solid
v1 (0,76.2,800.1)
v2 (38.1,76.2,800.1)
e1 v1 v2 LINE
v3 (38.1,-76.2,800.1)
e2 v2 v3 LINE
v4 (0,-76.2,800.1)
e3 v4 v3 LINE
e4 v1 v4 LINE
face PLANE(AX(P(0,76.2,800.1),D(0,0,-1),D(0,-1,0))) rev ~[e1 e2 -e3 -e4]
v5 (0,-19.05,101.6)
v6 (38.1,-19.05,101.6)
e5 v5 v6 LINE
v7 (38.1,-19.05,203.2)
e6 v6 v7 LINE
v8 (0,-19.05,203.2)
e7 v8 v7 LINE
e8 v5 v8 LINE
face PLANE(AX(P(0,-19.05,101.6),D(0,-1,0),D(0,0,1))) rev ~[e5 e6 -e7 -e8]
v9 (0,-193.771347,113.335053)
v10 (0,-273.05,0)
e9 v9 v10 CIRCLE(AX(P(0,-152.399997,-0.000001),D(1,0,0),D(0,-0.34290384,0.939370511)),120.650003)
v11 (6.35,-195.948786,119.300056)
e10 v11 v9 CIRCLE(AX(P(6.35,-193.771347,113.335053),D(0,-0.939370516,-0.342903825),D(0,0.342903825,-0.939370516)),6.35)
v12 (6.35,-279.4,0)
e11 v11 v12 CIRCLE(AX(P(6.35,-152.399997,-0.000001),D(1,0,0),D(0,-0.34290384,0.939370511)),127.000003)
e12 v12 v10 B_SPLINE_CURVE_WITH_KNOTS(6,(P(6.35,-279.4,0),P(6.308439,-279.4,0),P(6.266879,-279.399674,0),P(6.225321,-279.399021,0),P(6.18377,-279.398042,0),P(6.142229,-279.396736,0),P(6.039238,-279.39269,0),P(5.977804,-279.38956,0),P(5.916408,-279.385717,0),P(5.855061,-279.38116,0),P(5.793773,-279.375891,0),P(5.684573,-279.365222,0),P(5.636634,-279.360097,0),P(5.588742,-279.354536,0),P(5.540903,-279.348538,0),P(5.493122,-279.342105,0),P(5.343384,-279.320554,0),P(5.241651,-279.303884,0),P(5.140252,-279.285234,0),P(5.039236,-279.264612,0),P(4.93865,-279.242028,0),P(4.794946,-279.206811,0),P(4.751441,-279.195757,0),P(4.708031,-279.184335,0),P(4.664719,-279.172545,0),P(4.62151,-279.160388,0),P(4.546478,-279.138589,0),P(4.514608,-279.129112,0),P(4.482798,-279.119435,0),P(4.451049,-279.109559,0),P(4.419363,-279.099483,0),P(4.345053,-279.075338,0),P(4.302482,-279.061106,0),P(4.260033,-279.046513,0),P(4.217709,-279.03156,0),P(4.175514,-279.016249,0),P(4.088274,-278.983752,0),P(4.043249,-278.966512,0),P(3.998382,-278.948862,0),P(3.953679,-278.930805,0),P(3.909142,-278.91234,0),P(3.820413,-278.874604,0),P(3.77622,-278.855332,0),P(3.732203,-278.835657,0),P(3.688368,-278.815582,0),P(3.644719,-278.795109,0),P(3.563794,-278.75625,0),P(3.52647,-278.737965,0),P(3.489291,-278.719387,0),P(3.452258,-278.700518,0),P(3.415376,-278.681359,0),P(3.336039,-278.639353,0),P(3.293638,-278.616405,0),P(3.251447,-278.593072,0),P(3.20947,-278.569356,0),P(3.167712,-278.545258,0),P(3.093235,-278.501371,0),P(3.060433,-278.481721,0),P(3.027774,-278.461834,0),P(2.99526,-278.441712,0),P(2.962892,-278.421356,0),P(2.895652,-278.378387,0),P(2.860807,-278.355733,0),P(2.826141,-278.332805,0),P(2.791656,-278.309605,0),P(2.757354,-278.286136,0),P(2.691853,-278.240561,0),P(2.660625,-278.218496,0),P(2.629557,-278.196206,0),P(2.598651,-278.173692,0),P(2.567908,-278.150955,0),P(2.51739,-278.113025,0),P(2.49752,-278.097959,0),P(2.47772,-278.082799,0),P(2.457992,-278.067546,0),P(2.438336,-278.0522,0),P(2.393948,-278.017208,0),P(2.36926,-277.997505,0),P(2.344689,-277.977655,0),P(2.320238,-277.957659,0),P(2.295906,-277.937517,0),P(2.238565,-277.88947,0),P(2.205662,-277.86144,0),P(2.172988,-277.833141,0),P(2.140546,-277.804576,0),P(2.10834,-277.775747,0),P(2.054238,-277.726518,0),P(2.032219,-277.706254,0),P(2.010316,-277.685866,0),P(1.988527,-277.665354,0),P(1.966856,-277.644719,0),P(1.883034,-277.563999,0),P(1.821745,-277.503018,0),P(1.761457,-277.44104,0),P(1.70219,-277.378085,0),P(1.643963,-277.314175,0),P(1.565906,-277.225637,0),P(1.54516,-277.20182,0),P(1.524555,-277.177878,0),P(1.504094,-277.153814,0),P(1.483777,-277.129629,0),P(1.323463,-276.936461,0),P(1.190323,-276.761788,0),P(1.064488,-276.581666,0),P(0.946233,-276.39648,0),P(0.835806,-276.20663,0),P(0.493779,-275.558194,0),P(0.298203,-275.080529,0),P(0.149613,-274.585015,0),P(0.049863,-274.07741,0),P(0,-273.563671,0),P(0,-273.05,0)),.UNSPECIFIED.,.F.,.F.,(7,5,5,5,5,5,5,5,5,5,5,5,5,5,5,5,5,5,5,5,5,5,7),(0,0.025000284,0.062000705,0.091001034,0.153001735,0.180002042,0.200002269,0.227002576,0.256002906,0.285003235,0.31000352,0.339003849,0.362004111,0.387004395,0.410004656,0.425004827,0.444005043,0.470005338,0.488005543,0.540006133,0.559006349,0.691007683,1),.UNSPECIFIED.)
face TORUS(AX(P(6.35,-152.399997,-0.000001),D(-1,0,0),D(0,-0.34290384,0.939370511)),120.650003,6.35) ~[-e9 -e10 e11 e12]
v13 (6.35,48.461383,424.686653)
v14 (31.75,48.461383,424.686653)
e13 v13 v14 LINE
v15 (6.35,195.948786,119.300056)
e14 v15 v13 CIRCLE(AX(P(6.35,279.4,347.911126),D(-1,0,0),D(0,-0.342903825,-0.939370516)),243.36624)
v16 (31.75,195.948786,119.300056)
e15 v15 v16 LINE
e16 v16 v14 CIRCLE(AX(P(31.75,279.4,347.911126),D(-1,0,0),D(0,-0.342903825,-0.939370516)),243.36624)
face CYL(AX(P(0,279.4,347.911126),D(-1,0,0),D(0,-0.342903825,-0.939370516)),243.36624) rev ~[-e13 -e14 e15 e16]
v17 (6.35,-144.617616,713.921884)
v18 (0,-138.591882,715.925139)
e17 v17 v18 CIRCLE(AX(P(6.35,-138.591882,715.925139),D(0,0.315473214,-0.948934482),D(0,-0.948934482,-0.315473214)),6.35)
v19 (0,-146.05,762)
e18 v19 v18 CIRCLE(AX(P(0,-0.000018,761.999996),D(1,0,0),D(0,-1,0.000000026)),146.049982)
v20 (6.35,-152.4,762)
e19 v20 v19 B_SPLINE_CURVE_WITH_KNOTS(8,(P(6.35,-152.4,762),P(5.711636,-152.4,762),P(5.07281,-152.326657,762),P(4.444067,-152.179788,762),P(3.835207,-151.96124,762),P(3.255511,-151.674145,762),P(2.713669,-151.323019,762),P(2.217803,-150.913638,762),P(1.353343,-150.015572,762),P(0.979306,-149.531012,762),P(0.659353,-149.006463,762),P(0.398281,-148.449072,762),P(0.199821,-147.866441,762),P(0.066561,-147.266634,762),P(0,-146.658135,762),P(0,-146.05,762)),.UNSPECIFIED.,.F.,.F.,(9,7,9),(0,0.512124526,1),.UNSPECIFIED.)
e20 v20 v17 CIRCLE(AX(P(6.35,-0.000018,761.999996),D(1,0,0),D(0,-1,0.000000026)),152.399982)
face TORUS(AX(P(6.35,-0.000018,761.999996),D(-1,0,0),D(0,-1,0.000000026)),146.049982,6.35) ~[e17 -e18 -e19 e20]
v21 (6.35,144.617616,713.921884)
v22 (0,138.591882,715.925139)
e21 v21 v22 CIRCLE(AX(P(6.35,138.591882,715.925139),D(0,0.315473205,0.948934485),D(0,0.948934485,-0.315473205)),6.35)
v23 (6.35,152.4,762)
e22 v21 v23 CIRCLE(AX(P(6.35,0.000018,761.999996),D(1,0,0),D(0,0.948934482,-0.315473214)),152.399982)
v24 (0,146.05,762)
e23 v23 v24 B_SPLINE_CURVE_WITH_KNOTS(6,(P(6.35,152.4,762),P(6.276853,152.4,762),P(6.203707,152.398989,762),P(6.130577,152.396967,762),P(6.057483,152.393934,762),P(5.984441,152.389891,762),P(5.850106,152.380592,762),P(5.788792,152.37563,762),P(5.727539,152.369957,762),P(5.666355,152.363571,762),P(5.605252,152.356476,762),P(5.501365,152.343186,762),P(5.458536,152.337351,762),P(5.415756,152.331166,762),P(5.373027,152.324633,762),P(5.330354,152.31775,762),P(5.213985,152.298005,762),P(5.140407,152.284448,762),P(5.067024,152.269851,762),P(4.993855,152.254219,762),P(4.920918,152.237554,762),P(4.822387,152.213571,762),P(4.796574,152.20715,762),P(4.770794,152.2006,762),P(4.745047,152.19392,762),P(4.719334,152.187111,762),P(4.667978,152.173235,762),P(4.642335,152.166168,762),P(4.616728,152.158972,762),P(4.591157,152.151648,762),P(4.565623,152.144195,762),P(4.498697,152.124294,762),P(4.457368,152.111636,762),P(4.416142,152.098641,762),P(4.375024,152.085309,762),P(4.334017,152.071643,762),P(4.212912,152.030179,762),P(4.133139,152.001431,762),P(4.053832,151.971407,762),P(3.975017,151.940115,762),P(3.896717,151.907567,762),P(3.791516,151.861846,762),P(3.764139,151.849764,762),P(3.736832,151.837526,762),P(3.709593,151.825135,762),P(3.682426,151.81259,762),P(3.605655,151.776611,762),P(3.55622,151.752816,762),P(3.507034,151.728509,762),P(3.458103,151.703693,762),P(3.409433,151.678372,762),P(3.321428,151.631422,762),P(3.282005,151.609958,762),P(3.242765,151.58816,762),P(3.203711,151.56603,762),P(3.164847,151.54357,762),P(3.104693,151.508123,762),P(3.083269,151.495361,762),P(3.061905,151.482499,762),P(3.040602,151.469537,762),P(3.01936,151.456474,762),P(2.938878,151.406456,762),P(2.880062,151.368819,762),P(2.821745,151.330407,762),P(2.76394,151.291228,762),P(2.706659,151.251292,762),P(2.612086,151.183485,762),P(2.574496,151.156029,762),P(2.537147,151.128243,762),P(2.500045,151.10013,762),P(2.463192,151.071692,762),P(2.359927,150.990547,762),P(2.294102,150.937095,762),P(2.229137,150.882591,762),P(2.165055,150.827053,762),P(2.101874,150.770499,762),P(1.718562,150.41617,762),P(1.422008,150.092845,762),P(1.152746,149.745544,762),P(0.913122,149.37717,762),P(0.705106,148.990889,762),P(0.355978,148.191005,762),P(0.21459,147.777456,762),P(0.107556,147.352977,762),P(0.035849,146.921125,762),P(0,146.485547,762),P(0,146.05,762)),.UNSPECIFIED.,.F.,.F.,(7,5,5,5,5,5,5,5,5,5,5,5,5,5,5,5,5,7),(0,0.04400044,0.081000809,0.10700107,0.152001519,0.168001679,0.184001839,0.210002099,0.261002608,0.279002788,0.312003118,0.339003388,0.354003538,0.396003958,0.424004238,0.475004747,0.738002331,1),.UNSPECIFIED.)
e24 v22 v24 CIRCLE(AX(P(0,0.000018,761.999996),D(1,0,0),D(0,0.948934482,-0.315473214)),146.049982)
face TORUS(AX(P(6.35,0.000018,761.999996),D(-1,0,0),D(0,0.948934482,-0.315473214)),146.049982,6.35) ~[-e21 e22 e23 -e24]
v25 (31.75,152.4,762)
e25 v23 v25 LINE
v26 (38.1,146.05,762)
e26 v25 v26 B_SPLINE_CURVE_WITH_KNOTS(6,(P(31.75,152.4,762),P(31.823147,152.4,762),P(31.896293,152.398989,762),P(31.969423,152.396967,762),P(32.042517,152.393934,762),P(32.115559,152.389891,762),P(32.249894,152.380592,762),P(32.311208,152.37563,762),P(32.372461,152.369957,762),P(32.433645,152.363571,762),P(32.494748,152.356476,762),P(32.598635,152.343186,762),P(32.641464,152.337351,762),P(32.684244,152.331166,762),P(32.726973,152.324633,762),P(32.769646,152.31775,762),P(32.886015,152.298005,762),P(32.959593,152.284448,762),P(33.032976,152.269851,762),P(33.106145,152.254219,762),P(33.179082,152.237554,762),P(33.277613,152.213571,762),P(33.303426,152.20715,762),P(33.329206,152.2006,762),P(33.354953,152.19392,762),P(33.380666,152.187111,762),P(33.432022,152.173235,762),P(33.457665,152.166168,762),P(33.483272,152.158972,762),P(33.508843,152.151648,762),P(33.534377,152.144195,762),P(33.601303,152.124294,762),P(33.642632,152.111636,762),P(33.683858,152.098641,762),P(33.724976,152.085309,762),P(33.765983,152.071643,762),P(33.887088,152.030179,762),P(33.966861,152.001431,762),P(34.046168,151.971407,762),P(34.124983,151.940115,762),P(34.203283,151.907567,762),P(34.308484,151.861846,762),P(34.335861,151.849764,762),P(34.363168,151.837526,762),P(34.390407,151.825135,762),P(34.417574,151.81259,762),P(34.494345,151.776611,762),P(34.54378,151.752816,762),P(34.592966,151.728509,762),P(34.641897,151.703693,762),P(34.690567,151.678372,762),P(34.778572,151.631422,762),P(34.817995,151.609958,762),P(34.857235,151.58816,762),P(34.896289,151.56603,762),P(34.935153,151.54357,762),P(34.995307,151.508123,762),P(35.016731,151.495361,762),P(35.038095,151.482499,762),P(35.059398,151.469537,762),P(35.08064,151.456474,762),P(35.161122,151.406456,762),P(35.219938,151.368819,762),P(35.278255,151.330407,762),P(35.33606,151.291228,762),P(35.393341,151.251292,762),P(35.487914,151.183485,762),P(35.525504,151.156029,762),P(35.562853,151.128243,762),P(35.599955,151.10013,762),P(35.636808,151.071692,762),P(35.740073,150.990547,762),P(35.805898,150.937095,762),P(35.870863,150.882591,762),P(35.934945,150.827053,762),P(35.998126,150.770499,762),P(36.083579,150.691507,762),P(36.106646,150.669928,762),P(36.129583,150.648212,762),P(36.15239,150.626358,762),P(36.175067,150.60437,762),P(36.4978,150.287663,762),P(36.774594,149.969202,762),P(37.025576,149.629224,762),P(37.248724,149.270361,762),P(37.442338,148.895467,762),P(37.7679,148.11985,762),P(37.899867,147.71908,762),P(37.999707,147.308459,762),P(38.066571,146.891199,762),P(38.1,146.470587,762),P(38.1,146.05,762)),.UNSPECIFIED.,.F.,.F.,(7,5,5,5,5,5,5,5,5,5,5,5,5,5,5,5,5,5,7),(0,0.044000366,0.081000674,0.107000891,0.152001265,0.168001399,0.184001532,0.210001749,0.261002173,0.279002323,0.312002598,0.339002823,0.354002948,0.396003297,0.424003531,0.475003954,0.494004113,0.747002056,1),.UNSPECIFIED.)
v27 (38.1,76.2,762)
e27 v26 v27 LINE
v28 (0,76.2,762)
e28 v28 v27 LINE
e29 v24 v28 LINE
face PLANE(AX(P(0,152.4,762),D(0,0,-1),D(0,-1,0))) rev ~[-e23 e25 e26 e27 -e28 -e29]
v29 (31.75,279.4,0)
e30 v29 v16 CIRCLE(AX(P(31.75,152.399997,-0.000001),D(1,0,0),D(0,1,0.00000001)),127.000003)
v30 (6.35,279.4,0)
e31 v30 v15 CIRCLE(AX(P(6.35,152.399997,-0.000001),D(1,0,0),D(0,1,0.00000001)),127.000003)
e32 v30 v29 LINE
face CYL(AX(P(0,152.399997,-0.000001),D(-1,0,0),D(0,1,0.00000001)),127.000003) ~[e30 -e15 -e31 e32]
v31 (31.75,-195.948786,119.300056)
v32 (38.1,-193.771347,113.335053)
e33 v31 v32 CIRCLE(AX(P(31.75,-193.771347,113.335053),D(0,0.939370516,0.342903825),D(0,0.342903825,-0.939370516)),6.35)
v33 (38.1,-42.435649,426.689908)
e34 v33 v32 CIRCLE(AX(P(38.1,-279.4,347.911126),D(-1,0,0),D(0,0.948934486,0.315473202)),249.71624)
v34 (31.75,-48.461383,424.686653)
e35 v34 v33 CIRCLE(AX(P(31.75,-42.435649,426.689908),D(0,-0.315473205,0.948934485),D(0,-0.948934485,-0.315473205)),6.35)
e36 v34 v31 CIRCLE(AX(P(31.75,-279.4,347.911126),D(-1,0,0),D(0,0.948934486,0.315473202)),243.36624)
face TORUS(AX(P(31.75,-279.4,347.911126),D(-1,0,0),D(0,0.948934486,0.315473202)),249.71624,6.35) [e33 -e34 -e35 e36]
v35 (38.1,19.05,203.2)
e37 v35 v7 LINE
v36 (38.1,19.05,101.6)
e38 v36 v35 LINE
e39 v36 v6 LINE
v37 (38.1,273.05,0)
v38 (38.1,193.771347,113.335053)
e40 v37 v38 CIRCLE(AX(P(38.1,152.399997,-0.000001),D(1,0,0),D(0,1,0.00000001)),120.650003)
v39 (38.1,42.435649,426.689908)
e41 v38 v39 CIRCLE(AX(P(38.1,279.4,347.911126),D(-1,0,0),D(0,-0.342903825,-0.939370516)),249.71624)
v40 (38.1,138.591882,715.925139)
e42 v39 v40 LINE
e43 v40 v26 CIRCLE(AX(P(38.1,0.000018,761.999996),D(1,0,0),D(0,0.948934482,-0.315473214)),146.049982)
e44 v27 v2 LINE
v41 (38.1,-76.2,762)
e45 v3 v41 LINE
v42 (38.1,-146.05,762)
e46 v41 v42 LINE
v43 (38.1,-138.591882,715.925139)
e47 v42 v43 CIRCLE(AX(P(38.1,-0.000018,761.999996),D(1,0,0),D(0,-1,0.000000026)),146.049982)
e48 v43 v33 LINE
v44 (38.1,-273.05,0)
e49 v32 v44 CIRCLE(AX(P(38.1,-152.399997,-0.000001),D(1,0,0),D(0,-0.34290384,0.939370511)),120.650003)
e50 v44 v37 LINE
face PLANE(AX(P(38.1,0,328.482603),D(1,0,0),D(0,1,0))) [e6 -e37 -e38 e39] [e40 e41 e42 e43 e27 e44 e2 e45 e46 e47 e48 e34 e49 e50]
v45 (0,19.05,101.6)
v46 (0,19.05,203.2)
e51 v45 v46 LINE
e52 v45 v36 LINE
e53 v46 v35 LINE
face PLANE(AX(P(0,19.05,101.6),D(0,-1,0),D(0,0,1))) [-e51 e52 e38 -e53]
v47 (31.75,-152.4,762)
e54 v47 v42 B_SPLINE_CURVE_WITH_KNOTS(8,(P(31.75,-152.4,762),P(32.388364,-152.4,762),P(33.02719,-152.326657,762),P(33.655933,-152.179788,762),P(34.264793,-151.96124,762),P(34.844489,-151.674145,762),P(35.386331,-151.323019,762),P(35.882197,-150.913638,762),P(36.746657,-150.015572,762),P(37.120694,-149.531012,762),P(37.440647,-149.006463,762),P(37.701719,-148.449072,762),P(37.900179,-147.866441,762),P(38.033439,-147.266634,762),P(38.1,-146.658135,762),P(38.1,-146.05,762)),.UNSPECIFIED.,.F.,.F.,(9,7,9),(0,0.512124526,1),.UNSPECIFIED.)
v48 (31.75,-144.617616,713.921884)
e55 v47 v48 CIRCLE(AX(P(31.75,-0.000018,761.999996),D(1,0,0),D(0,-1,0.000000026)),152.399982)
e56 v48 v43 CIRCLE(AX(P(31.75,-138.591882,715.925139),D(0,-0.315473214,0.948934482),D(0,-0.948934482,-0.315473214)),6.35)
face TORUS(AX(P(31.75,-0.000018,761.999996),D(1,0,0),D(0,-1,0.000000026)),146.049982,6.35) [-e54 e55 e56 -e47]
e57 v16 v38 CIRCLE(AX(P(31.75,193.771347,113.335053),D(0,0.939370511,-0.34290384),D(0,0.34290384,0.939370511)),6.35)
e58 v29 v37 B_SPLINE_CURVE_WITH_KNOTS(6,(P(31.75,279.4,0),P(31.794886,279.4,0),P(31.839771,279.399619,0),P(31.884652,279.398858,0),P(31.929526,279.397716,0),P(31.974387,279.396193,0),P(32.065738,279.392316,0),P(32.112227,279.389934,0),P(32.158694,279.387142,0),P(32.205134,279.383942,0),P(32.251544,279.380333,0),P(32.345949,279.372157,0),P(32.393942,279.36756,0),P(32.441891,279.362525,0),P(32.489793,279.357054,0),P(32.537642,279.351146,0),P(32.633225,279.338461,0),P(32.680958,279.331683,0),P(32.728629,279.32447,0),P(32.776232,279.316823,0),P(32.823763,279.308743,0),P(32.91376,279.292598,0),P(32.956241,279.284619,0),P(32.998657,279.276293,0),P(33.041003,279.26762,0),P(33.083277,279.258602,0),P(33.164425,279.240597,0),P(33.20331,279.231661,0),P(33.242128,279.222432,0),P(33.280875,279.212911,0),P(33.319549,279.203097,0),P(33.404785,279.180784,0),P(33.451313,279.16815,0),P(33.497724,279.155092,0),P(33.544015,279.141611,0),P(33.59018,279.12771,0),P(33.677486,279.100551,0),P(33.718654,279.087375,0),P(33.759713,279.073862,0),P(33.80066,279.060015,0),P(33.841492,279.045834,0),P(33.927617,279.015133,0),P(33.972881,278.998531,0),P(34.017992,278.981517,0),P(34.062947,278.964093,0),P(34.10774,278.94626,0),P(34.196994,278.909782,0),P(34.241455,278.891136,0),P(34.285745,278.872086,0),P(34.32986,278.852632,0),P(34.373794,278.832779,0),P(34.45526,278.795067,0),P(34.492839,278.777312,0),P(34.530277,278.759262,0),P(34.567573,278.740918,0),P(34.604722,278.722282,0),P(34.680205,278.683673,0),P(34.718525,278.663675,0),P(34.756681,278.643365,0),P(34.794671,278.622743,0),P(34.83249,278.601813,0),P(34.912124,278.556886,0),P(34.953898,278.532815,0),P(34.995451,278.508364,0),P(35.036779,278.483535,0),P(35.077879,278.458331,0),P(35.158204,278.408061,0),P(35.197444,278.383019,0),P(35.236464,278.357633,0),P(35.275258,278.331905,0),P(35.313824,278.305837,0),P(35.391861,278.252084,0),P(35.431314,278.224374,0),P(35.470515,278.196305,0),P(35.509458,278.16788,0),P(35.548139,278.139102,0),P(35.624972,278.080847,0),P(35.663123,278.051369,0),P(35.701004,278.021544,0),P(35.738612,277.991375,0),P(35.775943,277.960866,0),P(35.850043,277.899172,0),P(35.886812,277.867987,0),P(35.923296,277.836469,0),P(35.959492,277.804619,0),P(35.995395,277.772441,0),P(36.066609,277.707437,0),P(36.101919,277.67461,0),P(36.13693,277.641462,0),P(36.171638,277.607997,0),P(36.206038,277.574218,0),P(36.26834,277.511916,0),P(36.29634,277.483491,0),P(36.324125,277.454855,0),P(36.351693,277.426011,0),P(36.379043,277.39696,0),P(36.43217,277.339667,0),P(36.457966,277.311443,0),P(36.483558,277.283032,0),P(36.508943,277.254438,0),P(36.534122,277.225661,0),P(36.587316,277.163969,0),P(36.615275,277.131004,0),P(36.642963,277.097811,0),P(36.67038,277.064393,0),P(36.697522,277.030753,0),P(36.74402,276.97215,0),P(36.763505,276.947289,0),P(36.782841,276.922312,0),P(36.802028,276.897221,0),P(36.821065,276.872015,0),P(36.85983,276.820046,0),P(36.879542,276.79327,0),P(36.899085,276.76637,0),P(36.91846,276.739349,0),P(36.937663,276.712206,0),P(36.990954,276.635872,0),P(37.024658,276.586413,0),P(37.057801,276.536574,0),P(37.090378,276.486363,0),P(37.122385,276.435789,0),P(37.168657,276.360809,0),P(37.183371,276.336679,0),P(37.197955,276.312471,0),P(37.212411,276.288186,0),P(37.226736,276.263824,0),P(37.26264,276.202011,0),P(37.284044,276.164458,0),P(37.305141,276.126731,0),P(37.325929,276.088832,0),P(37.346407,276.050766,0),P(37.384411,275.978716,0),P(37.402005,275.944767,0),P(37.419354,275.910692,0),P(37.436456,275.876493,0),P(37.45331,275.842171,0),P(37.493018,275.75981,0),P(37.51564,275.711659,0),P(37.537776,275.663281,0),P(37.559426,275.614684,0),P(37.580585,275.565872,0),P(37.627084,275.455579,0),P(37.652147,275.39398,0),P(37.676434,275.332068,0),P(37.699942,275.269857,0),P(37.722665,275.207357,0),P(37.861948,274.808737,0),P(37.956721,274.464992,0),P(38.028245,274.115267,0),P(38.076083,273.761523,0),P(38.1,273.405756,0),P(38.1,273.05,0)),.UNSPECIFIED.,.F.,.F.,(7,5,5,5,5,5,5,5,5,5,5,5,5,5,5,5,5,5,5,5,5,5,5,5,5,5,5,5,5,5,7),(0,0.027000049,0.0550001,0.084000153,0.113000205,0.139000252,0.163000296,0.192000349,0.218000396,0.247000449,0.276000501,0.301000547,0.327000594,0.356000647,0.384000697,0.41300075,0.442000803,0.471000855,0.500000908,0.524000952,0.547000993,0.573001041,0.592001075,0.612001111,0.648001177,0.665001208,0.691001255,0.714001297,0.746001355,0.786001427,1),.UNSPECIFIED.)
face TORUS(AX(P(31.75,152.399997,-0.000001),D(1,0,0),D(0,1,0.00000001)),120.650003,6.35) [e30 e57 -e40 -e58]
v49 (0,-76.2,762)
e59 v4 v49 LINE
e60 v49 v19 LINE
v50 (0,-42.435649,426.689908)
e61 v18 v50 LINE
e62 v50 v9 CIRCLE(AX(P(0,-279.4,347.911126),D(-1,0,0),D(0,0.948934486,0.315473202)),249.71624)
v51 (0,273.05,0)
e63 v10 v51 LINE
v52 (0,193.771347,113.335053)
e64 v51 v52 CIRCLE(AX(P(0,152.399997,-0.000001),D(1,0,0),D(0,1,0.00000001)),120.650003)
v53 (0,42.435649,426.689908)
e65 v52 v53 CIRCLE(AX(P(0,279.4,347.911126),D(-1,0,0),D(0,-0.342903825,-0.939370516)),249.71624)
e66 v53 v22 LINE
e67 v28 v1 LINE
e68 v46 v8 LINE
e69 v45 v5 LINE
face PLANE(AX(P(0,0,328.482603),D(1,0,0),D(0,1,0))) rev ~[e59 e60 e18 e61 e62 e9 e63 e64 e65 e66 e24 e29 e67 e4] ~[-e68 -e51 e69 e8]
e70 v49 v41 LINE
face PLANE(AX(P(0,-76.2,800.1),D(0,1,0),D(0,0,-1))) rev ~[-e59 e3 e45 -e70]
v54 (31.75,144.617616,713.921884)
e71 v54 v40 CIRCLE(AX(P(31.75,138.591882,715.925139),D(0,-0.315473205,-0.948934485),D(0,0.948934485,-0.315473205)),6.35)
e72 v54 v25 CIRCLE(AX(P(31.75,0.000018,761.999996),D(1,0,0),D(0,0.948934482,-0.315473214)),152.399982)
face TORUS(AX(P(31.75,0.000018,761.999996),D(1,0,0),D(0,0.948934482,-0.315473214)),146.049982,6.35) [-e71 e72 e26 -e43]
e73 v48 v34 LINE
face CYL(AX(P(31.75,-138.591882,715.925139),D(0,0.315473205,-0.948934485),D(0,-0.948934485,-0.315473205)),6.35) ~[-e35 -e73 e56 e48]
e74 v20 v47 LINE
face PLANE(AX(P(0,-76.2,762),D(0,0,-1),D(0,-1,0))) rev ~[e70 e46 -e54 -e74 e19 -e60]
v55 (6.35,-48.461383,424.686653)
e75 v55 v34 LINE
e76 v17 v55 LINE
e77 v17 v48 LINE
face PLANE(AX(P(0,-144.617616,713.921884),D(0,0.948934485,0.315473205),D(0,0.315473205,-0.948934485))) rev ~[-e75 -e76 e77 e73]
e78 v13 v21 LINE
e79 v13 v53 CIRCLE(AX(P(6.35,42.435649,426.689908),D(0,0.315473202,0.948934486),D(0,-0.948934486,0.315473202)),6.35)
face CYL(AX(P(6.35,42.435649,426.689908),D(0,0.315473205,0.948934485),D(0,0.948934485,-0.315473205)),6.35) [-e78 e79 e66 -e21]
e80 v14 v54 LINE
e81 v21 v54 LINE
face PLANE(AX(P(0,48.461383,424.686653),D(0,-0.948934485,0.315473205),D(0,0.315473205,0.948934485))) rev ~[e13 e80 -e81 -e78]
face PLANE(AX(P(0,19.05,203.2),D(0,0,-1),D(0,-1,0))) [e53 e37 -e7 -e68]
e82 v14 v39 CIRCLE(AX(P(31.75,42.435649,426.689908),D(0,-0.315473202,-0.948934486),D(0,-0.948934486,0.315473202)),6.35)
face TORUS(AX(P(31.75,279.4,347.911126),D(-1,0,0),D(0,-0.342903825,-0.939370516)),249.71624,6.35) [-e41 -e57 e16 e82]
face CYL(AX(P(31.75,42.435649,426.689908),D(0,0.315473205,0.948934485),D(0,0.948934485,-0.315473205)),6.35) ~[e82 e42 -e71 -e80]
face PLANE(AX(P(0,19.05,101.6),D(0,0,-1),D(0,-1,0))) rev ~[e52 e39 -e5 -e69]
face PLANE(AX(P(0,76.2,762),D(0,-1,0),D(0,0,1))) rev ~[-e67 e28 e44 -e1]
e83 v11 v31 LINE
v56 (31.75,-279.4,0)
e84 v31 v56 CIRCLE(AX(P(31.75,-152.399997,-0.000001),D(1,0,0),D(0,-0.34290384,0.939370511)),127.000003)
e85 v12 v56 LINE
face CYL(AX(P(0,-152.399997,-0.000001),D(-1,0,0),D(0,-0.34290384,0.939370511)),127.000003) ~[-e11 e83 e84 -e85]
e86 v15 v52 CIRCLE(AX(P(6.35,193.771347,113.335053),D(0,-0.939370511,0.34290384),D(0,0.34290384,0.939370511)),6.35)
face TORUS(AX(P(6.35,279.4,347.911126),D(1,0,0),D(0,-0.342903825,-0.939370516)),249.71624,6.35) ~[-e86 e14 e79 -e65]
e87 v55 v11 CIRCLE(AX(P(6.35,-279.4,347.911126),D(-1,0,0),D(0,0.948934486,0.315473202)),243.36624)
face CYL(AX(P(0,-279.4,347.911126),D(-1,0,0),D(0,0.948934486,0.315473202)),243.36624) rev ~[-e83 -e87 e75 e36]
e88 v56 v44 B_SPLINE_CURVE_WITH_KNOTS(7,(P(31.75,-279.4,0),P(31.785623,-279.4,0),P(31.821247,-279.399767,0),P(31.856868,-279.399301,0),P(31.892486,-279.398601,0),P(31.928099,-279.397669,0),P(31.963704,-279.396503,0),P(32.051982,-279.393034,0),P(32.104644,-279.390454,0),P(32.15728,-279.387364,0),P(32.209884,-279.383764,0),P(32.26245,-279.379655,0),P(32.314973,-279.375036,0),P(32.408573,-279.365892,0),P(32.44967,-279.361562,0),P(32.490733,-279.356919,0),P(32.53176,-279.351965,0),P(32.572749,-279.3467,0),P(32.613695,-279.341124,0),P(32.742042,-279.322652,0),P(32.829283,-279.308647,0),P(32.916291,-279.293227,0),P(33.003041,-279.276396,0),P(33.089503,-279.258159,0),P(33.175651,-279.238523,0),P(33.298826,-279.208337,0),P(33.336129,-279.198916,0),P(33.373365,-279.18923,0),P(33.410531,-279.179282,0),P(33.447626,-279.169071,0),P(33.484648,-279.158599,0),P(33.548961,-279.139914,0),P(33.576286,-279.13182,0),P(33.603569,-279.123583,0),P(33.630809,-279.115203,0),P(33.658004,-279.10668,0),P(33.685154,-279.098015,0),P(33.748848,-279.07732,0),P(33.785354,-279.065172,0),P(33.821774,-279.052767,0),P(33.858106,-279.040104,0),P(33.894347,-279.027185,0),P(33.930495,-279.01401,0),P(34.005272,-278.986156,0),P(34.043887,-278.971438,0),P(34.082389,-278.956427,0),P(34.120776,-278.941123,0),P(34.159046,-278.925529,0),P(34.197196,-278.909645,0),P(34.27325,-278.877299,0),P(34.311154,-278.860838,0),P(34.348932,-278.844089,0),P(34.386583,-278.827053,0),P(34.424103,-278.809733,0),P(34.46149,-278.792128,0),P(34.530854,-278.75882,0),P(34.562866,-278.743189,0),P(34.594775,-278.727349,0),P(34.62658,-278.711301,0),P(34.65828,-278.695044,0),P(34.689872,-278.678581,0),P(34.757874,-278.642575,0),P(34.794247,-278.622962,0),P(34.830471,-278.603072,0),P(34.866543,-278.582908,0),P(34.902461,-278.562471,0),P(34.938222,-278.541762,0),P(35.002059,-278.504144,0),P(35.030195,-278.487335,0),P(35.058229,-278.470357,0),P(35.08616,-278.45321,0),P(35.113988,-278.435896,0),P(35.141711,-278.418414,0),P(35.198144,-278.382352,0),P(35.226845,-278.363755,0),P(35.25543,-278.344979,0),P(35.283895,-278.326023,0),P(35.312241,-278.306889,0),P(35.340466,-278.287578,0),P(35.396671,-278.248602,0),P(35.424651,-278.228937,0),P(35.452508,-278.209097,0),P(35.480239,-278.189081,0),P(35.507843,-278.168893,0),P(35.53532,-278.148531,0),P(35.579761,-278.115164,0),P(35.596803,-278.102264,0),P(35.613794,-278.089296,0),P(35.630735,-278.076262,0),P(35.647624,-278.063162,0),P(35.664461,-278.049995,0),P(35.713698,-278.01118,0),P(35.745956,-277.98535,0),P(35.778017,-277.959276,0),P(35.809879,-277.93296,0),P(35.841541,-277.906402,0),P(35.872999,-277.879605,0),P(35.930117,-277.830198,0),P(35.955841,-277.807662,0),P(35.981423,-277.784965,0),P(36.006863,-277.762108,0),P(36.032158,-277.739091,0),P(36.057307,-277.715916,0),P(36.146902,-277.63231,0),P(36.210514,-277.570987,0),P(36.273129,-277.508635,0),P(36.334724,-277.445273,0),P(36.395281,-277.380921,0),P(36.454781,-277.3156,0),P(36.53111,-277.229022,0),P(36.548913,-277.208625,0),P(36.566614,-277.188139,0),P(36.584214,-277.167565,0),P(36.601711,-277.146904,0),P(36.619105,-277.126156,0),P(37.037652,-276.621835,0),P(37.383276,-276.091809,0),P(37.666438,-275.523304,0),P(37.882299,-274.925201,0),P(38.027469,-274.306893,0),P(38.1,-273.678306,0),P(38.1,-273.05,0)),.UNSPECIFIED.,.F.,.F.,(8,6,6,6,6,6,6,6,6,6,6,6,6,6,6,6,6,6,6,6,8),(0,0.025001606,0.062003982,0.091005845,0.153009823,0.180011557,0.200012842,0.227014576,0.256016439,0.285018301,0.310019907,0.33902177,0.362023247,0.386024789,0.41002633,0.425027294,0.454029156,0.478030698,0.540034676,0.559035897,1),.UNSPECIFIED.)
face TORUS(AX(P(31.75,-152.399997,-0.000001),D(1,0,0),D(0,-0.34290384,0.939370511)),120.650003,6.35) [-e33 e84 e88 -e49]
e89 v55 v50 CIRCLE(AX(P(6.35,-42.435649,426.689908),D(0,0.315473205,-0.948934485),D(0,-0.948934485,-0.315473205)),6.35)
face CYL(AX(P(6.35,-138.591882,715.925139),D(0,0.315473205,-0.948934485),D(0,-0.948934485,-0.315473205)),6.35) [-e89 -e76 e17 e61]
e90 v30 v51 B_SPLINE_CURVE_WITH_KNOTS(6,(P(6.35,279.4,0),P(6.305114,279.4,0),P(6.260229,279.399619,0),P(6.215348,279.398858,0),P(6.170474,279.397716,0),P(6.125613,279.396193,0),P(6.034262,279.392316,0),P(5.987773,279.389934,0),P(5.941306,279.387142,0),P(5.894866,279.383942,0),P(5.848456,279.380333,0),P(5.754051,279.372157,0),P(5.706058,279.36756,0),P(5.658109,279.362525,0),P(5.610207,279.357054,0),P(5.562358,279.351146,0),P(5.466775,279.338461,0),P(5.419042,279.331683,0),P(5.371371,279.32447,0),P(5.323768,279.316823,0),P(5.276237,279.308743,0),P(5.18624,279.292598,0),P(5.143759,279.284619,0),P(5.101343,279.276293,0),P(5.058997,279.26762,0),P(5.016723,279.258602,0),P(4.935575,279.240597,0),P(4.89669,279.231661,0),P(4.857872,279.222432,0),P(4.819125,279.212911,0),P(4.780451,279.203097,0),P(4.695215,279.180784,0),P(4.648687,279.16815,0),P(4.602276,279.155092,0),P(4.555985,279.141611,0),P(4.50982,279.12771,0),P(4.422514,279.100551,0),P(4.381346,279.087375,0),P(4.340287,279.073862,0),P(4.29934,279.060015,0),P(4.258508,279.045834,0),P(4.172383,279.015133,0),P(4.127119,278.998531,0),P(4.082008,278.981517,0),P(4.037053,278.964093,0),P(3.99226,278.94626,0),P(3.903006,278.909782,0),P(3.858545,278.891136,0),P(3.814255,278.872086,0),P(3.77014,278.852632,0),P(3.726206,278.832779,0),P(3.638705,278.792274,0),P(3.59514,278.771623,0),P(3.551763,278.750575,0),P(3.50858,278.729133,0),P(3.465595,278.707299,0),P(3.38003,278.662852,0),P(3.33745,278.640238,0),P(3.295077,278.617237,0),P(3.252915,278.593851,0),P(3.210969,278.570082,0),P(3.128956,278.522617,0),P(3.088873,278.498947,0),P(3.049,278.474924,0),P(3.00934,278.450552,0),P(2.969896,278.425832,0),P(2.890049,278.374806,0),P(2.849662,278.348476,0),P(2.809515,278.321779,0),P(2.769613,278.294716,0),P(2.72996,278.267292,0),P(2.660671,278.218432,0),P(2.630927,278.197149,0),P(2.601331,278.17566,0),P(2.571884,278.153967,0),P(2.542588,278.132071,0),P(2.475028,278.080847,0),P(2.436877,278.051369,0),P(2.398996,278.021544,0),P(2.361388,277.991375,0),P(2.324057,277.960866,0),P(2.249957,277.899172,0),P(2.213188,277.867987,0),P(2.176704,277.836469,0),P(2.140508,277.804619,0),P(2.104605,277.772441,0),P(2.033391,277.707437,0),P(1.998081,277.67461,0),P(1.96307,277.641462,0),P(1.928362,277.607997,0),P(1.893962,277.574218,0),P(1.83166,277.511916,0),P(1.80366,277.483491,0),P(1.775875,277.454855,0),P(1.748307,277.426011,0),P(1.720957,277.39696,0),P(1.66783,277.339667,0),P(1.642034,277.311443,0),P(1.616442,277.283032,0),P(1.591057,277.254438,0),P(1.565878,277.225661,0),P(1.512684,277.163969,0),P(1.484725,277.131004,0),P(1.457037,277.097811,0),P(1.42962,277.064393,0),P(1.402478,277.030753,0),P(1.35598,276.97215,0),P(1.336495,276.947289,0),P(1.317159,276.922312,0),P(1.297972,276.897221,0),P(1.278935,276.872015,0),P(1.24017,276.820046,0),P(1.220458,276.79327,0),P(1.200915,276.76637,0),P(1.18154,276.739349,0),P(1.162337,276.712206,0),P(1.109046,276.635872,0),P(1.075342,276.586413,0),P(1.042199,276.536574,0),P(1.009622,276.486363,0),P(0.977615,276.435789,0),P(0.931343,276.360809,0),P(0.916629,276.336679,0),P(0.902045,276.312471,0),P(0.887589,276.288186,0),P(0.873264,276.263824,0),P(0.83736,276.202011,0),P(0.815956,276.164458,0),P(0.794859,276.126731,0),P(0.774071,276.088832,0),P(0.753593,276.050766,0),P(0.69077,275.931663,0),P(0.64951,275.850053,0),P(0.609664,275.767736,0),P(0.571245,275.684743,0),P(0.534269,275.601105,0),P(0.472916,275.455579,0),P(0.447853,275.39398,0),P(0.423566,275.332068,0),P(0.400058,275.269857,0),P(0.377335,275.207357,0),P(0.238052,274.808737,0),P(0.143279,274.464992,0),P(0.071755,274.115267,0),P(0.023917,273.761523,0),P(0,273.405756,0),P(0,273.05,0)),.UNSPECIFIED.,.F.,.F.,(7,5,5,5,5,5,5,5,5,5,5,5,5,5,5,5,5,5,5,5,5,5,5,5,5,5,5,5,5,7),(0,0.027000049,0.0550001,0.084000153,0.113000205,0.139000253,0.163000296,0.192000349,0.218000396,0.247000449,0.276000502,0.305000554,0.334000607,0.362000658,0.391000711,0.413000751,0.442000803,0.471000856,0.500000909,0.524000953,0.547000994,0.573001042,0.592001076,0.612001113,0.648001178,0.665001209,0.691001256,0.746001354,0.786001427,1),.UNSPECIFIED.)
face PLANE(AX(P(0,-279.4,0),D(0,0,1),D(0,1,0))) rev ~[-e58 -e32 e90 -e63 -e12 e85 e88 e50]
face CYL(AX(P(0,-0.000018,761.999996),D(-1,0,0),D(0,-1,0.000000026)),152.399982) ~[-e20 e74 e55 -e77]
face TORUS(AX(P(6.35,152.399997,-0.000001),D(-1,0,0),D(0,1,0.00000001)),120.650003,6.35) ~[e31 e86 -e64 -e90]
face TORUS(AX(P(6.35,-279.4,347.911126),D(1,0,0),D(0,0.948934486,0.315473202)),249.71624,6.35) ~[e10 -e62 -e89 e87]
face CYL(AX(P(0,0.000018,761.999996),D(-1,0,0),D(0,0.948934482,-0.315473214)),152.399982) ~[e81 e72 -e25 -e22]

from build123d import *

# Parameters (mm, degrees)
F1_DEPTH = 38.1
F2_R     = 6.35
F3_W     = 38.1
F3_H     = 101.6
F4_DEPTH = 38.1


with BuildPart() as f1:
    # F0 (on Right) → F1 (new body)
    with BuildSketch(Plane.YZ):
        with BuildLine():
            Line((-279.4, 0), (0, 0))
            Line((0, 0), (279.4, 0))
            ThreePointArc((279.4, 0), (256.466555, 72.795275), (195.948786, 119.300056))
            ThreePointArc((195.948786, 119.300056), (60.252824, 242.073318), (48.461383, 424.686653))
            Line((48.461383, 424.686653), (144.617616, 713.921884))
            ThreePointArc((144.617616, 713.921884), (150.441824, 737.648045), (152.4, 762))
            Line((152.4, 762), (76.2, 762))
            Line((76.2, 762), (0, 762))
            Line((0, 762), (-76.2, 762))
            Line((-76.2, 762), (-152.4, 762))
            ThreePointArc((-152.4, 762), (-150.441824, 737.648045), (-144.617616, 713.921884))
            Line((-144.617616, 713.921884), (-48.461383, 424.686653))
            ThreePointArc((-48.461383, 424.686653), (-60.252824, 242.073318), (-195.948786, 119.300056))
            ThreePointArc((-195.948786, 119.300056), (-256.466555, 72.795275), (-279.4, 0))
        make_face()
        Polygon((-76.2, 800.1), (-76.2, 762), (0, 762), (76.2, 762), (76.2, 800.1), align=None)
    extrude(amount=F1_DEPTH)

    # F2
    f2_edges = [f1.edges().sort_by_distance(p)[0] for p in [
        (38.1, -60.252824, 242.073318),
        (0, 60.252824, 242.073318),
        (38.1, 60.252824, 242.073318),
        (0, -96.539499, 569.304268),
    ]]
    fillet(f2_edges, radius=F2_R)

    # F3 (on face) → F4 (cut, through all)
    with BuildSketch(Plane(origin=(0, 0, 0), x_dir=(0, -1, 0), z_dir=(-1, 0, 0))):
        with Locations((0, 152.4)):
            Rectangle(F3_W, F3_H)
    extrude(amount=-F4_DEPTH, mode=Mode.SUBTRACT)


solid = f1.part
